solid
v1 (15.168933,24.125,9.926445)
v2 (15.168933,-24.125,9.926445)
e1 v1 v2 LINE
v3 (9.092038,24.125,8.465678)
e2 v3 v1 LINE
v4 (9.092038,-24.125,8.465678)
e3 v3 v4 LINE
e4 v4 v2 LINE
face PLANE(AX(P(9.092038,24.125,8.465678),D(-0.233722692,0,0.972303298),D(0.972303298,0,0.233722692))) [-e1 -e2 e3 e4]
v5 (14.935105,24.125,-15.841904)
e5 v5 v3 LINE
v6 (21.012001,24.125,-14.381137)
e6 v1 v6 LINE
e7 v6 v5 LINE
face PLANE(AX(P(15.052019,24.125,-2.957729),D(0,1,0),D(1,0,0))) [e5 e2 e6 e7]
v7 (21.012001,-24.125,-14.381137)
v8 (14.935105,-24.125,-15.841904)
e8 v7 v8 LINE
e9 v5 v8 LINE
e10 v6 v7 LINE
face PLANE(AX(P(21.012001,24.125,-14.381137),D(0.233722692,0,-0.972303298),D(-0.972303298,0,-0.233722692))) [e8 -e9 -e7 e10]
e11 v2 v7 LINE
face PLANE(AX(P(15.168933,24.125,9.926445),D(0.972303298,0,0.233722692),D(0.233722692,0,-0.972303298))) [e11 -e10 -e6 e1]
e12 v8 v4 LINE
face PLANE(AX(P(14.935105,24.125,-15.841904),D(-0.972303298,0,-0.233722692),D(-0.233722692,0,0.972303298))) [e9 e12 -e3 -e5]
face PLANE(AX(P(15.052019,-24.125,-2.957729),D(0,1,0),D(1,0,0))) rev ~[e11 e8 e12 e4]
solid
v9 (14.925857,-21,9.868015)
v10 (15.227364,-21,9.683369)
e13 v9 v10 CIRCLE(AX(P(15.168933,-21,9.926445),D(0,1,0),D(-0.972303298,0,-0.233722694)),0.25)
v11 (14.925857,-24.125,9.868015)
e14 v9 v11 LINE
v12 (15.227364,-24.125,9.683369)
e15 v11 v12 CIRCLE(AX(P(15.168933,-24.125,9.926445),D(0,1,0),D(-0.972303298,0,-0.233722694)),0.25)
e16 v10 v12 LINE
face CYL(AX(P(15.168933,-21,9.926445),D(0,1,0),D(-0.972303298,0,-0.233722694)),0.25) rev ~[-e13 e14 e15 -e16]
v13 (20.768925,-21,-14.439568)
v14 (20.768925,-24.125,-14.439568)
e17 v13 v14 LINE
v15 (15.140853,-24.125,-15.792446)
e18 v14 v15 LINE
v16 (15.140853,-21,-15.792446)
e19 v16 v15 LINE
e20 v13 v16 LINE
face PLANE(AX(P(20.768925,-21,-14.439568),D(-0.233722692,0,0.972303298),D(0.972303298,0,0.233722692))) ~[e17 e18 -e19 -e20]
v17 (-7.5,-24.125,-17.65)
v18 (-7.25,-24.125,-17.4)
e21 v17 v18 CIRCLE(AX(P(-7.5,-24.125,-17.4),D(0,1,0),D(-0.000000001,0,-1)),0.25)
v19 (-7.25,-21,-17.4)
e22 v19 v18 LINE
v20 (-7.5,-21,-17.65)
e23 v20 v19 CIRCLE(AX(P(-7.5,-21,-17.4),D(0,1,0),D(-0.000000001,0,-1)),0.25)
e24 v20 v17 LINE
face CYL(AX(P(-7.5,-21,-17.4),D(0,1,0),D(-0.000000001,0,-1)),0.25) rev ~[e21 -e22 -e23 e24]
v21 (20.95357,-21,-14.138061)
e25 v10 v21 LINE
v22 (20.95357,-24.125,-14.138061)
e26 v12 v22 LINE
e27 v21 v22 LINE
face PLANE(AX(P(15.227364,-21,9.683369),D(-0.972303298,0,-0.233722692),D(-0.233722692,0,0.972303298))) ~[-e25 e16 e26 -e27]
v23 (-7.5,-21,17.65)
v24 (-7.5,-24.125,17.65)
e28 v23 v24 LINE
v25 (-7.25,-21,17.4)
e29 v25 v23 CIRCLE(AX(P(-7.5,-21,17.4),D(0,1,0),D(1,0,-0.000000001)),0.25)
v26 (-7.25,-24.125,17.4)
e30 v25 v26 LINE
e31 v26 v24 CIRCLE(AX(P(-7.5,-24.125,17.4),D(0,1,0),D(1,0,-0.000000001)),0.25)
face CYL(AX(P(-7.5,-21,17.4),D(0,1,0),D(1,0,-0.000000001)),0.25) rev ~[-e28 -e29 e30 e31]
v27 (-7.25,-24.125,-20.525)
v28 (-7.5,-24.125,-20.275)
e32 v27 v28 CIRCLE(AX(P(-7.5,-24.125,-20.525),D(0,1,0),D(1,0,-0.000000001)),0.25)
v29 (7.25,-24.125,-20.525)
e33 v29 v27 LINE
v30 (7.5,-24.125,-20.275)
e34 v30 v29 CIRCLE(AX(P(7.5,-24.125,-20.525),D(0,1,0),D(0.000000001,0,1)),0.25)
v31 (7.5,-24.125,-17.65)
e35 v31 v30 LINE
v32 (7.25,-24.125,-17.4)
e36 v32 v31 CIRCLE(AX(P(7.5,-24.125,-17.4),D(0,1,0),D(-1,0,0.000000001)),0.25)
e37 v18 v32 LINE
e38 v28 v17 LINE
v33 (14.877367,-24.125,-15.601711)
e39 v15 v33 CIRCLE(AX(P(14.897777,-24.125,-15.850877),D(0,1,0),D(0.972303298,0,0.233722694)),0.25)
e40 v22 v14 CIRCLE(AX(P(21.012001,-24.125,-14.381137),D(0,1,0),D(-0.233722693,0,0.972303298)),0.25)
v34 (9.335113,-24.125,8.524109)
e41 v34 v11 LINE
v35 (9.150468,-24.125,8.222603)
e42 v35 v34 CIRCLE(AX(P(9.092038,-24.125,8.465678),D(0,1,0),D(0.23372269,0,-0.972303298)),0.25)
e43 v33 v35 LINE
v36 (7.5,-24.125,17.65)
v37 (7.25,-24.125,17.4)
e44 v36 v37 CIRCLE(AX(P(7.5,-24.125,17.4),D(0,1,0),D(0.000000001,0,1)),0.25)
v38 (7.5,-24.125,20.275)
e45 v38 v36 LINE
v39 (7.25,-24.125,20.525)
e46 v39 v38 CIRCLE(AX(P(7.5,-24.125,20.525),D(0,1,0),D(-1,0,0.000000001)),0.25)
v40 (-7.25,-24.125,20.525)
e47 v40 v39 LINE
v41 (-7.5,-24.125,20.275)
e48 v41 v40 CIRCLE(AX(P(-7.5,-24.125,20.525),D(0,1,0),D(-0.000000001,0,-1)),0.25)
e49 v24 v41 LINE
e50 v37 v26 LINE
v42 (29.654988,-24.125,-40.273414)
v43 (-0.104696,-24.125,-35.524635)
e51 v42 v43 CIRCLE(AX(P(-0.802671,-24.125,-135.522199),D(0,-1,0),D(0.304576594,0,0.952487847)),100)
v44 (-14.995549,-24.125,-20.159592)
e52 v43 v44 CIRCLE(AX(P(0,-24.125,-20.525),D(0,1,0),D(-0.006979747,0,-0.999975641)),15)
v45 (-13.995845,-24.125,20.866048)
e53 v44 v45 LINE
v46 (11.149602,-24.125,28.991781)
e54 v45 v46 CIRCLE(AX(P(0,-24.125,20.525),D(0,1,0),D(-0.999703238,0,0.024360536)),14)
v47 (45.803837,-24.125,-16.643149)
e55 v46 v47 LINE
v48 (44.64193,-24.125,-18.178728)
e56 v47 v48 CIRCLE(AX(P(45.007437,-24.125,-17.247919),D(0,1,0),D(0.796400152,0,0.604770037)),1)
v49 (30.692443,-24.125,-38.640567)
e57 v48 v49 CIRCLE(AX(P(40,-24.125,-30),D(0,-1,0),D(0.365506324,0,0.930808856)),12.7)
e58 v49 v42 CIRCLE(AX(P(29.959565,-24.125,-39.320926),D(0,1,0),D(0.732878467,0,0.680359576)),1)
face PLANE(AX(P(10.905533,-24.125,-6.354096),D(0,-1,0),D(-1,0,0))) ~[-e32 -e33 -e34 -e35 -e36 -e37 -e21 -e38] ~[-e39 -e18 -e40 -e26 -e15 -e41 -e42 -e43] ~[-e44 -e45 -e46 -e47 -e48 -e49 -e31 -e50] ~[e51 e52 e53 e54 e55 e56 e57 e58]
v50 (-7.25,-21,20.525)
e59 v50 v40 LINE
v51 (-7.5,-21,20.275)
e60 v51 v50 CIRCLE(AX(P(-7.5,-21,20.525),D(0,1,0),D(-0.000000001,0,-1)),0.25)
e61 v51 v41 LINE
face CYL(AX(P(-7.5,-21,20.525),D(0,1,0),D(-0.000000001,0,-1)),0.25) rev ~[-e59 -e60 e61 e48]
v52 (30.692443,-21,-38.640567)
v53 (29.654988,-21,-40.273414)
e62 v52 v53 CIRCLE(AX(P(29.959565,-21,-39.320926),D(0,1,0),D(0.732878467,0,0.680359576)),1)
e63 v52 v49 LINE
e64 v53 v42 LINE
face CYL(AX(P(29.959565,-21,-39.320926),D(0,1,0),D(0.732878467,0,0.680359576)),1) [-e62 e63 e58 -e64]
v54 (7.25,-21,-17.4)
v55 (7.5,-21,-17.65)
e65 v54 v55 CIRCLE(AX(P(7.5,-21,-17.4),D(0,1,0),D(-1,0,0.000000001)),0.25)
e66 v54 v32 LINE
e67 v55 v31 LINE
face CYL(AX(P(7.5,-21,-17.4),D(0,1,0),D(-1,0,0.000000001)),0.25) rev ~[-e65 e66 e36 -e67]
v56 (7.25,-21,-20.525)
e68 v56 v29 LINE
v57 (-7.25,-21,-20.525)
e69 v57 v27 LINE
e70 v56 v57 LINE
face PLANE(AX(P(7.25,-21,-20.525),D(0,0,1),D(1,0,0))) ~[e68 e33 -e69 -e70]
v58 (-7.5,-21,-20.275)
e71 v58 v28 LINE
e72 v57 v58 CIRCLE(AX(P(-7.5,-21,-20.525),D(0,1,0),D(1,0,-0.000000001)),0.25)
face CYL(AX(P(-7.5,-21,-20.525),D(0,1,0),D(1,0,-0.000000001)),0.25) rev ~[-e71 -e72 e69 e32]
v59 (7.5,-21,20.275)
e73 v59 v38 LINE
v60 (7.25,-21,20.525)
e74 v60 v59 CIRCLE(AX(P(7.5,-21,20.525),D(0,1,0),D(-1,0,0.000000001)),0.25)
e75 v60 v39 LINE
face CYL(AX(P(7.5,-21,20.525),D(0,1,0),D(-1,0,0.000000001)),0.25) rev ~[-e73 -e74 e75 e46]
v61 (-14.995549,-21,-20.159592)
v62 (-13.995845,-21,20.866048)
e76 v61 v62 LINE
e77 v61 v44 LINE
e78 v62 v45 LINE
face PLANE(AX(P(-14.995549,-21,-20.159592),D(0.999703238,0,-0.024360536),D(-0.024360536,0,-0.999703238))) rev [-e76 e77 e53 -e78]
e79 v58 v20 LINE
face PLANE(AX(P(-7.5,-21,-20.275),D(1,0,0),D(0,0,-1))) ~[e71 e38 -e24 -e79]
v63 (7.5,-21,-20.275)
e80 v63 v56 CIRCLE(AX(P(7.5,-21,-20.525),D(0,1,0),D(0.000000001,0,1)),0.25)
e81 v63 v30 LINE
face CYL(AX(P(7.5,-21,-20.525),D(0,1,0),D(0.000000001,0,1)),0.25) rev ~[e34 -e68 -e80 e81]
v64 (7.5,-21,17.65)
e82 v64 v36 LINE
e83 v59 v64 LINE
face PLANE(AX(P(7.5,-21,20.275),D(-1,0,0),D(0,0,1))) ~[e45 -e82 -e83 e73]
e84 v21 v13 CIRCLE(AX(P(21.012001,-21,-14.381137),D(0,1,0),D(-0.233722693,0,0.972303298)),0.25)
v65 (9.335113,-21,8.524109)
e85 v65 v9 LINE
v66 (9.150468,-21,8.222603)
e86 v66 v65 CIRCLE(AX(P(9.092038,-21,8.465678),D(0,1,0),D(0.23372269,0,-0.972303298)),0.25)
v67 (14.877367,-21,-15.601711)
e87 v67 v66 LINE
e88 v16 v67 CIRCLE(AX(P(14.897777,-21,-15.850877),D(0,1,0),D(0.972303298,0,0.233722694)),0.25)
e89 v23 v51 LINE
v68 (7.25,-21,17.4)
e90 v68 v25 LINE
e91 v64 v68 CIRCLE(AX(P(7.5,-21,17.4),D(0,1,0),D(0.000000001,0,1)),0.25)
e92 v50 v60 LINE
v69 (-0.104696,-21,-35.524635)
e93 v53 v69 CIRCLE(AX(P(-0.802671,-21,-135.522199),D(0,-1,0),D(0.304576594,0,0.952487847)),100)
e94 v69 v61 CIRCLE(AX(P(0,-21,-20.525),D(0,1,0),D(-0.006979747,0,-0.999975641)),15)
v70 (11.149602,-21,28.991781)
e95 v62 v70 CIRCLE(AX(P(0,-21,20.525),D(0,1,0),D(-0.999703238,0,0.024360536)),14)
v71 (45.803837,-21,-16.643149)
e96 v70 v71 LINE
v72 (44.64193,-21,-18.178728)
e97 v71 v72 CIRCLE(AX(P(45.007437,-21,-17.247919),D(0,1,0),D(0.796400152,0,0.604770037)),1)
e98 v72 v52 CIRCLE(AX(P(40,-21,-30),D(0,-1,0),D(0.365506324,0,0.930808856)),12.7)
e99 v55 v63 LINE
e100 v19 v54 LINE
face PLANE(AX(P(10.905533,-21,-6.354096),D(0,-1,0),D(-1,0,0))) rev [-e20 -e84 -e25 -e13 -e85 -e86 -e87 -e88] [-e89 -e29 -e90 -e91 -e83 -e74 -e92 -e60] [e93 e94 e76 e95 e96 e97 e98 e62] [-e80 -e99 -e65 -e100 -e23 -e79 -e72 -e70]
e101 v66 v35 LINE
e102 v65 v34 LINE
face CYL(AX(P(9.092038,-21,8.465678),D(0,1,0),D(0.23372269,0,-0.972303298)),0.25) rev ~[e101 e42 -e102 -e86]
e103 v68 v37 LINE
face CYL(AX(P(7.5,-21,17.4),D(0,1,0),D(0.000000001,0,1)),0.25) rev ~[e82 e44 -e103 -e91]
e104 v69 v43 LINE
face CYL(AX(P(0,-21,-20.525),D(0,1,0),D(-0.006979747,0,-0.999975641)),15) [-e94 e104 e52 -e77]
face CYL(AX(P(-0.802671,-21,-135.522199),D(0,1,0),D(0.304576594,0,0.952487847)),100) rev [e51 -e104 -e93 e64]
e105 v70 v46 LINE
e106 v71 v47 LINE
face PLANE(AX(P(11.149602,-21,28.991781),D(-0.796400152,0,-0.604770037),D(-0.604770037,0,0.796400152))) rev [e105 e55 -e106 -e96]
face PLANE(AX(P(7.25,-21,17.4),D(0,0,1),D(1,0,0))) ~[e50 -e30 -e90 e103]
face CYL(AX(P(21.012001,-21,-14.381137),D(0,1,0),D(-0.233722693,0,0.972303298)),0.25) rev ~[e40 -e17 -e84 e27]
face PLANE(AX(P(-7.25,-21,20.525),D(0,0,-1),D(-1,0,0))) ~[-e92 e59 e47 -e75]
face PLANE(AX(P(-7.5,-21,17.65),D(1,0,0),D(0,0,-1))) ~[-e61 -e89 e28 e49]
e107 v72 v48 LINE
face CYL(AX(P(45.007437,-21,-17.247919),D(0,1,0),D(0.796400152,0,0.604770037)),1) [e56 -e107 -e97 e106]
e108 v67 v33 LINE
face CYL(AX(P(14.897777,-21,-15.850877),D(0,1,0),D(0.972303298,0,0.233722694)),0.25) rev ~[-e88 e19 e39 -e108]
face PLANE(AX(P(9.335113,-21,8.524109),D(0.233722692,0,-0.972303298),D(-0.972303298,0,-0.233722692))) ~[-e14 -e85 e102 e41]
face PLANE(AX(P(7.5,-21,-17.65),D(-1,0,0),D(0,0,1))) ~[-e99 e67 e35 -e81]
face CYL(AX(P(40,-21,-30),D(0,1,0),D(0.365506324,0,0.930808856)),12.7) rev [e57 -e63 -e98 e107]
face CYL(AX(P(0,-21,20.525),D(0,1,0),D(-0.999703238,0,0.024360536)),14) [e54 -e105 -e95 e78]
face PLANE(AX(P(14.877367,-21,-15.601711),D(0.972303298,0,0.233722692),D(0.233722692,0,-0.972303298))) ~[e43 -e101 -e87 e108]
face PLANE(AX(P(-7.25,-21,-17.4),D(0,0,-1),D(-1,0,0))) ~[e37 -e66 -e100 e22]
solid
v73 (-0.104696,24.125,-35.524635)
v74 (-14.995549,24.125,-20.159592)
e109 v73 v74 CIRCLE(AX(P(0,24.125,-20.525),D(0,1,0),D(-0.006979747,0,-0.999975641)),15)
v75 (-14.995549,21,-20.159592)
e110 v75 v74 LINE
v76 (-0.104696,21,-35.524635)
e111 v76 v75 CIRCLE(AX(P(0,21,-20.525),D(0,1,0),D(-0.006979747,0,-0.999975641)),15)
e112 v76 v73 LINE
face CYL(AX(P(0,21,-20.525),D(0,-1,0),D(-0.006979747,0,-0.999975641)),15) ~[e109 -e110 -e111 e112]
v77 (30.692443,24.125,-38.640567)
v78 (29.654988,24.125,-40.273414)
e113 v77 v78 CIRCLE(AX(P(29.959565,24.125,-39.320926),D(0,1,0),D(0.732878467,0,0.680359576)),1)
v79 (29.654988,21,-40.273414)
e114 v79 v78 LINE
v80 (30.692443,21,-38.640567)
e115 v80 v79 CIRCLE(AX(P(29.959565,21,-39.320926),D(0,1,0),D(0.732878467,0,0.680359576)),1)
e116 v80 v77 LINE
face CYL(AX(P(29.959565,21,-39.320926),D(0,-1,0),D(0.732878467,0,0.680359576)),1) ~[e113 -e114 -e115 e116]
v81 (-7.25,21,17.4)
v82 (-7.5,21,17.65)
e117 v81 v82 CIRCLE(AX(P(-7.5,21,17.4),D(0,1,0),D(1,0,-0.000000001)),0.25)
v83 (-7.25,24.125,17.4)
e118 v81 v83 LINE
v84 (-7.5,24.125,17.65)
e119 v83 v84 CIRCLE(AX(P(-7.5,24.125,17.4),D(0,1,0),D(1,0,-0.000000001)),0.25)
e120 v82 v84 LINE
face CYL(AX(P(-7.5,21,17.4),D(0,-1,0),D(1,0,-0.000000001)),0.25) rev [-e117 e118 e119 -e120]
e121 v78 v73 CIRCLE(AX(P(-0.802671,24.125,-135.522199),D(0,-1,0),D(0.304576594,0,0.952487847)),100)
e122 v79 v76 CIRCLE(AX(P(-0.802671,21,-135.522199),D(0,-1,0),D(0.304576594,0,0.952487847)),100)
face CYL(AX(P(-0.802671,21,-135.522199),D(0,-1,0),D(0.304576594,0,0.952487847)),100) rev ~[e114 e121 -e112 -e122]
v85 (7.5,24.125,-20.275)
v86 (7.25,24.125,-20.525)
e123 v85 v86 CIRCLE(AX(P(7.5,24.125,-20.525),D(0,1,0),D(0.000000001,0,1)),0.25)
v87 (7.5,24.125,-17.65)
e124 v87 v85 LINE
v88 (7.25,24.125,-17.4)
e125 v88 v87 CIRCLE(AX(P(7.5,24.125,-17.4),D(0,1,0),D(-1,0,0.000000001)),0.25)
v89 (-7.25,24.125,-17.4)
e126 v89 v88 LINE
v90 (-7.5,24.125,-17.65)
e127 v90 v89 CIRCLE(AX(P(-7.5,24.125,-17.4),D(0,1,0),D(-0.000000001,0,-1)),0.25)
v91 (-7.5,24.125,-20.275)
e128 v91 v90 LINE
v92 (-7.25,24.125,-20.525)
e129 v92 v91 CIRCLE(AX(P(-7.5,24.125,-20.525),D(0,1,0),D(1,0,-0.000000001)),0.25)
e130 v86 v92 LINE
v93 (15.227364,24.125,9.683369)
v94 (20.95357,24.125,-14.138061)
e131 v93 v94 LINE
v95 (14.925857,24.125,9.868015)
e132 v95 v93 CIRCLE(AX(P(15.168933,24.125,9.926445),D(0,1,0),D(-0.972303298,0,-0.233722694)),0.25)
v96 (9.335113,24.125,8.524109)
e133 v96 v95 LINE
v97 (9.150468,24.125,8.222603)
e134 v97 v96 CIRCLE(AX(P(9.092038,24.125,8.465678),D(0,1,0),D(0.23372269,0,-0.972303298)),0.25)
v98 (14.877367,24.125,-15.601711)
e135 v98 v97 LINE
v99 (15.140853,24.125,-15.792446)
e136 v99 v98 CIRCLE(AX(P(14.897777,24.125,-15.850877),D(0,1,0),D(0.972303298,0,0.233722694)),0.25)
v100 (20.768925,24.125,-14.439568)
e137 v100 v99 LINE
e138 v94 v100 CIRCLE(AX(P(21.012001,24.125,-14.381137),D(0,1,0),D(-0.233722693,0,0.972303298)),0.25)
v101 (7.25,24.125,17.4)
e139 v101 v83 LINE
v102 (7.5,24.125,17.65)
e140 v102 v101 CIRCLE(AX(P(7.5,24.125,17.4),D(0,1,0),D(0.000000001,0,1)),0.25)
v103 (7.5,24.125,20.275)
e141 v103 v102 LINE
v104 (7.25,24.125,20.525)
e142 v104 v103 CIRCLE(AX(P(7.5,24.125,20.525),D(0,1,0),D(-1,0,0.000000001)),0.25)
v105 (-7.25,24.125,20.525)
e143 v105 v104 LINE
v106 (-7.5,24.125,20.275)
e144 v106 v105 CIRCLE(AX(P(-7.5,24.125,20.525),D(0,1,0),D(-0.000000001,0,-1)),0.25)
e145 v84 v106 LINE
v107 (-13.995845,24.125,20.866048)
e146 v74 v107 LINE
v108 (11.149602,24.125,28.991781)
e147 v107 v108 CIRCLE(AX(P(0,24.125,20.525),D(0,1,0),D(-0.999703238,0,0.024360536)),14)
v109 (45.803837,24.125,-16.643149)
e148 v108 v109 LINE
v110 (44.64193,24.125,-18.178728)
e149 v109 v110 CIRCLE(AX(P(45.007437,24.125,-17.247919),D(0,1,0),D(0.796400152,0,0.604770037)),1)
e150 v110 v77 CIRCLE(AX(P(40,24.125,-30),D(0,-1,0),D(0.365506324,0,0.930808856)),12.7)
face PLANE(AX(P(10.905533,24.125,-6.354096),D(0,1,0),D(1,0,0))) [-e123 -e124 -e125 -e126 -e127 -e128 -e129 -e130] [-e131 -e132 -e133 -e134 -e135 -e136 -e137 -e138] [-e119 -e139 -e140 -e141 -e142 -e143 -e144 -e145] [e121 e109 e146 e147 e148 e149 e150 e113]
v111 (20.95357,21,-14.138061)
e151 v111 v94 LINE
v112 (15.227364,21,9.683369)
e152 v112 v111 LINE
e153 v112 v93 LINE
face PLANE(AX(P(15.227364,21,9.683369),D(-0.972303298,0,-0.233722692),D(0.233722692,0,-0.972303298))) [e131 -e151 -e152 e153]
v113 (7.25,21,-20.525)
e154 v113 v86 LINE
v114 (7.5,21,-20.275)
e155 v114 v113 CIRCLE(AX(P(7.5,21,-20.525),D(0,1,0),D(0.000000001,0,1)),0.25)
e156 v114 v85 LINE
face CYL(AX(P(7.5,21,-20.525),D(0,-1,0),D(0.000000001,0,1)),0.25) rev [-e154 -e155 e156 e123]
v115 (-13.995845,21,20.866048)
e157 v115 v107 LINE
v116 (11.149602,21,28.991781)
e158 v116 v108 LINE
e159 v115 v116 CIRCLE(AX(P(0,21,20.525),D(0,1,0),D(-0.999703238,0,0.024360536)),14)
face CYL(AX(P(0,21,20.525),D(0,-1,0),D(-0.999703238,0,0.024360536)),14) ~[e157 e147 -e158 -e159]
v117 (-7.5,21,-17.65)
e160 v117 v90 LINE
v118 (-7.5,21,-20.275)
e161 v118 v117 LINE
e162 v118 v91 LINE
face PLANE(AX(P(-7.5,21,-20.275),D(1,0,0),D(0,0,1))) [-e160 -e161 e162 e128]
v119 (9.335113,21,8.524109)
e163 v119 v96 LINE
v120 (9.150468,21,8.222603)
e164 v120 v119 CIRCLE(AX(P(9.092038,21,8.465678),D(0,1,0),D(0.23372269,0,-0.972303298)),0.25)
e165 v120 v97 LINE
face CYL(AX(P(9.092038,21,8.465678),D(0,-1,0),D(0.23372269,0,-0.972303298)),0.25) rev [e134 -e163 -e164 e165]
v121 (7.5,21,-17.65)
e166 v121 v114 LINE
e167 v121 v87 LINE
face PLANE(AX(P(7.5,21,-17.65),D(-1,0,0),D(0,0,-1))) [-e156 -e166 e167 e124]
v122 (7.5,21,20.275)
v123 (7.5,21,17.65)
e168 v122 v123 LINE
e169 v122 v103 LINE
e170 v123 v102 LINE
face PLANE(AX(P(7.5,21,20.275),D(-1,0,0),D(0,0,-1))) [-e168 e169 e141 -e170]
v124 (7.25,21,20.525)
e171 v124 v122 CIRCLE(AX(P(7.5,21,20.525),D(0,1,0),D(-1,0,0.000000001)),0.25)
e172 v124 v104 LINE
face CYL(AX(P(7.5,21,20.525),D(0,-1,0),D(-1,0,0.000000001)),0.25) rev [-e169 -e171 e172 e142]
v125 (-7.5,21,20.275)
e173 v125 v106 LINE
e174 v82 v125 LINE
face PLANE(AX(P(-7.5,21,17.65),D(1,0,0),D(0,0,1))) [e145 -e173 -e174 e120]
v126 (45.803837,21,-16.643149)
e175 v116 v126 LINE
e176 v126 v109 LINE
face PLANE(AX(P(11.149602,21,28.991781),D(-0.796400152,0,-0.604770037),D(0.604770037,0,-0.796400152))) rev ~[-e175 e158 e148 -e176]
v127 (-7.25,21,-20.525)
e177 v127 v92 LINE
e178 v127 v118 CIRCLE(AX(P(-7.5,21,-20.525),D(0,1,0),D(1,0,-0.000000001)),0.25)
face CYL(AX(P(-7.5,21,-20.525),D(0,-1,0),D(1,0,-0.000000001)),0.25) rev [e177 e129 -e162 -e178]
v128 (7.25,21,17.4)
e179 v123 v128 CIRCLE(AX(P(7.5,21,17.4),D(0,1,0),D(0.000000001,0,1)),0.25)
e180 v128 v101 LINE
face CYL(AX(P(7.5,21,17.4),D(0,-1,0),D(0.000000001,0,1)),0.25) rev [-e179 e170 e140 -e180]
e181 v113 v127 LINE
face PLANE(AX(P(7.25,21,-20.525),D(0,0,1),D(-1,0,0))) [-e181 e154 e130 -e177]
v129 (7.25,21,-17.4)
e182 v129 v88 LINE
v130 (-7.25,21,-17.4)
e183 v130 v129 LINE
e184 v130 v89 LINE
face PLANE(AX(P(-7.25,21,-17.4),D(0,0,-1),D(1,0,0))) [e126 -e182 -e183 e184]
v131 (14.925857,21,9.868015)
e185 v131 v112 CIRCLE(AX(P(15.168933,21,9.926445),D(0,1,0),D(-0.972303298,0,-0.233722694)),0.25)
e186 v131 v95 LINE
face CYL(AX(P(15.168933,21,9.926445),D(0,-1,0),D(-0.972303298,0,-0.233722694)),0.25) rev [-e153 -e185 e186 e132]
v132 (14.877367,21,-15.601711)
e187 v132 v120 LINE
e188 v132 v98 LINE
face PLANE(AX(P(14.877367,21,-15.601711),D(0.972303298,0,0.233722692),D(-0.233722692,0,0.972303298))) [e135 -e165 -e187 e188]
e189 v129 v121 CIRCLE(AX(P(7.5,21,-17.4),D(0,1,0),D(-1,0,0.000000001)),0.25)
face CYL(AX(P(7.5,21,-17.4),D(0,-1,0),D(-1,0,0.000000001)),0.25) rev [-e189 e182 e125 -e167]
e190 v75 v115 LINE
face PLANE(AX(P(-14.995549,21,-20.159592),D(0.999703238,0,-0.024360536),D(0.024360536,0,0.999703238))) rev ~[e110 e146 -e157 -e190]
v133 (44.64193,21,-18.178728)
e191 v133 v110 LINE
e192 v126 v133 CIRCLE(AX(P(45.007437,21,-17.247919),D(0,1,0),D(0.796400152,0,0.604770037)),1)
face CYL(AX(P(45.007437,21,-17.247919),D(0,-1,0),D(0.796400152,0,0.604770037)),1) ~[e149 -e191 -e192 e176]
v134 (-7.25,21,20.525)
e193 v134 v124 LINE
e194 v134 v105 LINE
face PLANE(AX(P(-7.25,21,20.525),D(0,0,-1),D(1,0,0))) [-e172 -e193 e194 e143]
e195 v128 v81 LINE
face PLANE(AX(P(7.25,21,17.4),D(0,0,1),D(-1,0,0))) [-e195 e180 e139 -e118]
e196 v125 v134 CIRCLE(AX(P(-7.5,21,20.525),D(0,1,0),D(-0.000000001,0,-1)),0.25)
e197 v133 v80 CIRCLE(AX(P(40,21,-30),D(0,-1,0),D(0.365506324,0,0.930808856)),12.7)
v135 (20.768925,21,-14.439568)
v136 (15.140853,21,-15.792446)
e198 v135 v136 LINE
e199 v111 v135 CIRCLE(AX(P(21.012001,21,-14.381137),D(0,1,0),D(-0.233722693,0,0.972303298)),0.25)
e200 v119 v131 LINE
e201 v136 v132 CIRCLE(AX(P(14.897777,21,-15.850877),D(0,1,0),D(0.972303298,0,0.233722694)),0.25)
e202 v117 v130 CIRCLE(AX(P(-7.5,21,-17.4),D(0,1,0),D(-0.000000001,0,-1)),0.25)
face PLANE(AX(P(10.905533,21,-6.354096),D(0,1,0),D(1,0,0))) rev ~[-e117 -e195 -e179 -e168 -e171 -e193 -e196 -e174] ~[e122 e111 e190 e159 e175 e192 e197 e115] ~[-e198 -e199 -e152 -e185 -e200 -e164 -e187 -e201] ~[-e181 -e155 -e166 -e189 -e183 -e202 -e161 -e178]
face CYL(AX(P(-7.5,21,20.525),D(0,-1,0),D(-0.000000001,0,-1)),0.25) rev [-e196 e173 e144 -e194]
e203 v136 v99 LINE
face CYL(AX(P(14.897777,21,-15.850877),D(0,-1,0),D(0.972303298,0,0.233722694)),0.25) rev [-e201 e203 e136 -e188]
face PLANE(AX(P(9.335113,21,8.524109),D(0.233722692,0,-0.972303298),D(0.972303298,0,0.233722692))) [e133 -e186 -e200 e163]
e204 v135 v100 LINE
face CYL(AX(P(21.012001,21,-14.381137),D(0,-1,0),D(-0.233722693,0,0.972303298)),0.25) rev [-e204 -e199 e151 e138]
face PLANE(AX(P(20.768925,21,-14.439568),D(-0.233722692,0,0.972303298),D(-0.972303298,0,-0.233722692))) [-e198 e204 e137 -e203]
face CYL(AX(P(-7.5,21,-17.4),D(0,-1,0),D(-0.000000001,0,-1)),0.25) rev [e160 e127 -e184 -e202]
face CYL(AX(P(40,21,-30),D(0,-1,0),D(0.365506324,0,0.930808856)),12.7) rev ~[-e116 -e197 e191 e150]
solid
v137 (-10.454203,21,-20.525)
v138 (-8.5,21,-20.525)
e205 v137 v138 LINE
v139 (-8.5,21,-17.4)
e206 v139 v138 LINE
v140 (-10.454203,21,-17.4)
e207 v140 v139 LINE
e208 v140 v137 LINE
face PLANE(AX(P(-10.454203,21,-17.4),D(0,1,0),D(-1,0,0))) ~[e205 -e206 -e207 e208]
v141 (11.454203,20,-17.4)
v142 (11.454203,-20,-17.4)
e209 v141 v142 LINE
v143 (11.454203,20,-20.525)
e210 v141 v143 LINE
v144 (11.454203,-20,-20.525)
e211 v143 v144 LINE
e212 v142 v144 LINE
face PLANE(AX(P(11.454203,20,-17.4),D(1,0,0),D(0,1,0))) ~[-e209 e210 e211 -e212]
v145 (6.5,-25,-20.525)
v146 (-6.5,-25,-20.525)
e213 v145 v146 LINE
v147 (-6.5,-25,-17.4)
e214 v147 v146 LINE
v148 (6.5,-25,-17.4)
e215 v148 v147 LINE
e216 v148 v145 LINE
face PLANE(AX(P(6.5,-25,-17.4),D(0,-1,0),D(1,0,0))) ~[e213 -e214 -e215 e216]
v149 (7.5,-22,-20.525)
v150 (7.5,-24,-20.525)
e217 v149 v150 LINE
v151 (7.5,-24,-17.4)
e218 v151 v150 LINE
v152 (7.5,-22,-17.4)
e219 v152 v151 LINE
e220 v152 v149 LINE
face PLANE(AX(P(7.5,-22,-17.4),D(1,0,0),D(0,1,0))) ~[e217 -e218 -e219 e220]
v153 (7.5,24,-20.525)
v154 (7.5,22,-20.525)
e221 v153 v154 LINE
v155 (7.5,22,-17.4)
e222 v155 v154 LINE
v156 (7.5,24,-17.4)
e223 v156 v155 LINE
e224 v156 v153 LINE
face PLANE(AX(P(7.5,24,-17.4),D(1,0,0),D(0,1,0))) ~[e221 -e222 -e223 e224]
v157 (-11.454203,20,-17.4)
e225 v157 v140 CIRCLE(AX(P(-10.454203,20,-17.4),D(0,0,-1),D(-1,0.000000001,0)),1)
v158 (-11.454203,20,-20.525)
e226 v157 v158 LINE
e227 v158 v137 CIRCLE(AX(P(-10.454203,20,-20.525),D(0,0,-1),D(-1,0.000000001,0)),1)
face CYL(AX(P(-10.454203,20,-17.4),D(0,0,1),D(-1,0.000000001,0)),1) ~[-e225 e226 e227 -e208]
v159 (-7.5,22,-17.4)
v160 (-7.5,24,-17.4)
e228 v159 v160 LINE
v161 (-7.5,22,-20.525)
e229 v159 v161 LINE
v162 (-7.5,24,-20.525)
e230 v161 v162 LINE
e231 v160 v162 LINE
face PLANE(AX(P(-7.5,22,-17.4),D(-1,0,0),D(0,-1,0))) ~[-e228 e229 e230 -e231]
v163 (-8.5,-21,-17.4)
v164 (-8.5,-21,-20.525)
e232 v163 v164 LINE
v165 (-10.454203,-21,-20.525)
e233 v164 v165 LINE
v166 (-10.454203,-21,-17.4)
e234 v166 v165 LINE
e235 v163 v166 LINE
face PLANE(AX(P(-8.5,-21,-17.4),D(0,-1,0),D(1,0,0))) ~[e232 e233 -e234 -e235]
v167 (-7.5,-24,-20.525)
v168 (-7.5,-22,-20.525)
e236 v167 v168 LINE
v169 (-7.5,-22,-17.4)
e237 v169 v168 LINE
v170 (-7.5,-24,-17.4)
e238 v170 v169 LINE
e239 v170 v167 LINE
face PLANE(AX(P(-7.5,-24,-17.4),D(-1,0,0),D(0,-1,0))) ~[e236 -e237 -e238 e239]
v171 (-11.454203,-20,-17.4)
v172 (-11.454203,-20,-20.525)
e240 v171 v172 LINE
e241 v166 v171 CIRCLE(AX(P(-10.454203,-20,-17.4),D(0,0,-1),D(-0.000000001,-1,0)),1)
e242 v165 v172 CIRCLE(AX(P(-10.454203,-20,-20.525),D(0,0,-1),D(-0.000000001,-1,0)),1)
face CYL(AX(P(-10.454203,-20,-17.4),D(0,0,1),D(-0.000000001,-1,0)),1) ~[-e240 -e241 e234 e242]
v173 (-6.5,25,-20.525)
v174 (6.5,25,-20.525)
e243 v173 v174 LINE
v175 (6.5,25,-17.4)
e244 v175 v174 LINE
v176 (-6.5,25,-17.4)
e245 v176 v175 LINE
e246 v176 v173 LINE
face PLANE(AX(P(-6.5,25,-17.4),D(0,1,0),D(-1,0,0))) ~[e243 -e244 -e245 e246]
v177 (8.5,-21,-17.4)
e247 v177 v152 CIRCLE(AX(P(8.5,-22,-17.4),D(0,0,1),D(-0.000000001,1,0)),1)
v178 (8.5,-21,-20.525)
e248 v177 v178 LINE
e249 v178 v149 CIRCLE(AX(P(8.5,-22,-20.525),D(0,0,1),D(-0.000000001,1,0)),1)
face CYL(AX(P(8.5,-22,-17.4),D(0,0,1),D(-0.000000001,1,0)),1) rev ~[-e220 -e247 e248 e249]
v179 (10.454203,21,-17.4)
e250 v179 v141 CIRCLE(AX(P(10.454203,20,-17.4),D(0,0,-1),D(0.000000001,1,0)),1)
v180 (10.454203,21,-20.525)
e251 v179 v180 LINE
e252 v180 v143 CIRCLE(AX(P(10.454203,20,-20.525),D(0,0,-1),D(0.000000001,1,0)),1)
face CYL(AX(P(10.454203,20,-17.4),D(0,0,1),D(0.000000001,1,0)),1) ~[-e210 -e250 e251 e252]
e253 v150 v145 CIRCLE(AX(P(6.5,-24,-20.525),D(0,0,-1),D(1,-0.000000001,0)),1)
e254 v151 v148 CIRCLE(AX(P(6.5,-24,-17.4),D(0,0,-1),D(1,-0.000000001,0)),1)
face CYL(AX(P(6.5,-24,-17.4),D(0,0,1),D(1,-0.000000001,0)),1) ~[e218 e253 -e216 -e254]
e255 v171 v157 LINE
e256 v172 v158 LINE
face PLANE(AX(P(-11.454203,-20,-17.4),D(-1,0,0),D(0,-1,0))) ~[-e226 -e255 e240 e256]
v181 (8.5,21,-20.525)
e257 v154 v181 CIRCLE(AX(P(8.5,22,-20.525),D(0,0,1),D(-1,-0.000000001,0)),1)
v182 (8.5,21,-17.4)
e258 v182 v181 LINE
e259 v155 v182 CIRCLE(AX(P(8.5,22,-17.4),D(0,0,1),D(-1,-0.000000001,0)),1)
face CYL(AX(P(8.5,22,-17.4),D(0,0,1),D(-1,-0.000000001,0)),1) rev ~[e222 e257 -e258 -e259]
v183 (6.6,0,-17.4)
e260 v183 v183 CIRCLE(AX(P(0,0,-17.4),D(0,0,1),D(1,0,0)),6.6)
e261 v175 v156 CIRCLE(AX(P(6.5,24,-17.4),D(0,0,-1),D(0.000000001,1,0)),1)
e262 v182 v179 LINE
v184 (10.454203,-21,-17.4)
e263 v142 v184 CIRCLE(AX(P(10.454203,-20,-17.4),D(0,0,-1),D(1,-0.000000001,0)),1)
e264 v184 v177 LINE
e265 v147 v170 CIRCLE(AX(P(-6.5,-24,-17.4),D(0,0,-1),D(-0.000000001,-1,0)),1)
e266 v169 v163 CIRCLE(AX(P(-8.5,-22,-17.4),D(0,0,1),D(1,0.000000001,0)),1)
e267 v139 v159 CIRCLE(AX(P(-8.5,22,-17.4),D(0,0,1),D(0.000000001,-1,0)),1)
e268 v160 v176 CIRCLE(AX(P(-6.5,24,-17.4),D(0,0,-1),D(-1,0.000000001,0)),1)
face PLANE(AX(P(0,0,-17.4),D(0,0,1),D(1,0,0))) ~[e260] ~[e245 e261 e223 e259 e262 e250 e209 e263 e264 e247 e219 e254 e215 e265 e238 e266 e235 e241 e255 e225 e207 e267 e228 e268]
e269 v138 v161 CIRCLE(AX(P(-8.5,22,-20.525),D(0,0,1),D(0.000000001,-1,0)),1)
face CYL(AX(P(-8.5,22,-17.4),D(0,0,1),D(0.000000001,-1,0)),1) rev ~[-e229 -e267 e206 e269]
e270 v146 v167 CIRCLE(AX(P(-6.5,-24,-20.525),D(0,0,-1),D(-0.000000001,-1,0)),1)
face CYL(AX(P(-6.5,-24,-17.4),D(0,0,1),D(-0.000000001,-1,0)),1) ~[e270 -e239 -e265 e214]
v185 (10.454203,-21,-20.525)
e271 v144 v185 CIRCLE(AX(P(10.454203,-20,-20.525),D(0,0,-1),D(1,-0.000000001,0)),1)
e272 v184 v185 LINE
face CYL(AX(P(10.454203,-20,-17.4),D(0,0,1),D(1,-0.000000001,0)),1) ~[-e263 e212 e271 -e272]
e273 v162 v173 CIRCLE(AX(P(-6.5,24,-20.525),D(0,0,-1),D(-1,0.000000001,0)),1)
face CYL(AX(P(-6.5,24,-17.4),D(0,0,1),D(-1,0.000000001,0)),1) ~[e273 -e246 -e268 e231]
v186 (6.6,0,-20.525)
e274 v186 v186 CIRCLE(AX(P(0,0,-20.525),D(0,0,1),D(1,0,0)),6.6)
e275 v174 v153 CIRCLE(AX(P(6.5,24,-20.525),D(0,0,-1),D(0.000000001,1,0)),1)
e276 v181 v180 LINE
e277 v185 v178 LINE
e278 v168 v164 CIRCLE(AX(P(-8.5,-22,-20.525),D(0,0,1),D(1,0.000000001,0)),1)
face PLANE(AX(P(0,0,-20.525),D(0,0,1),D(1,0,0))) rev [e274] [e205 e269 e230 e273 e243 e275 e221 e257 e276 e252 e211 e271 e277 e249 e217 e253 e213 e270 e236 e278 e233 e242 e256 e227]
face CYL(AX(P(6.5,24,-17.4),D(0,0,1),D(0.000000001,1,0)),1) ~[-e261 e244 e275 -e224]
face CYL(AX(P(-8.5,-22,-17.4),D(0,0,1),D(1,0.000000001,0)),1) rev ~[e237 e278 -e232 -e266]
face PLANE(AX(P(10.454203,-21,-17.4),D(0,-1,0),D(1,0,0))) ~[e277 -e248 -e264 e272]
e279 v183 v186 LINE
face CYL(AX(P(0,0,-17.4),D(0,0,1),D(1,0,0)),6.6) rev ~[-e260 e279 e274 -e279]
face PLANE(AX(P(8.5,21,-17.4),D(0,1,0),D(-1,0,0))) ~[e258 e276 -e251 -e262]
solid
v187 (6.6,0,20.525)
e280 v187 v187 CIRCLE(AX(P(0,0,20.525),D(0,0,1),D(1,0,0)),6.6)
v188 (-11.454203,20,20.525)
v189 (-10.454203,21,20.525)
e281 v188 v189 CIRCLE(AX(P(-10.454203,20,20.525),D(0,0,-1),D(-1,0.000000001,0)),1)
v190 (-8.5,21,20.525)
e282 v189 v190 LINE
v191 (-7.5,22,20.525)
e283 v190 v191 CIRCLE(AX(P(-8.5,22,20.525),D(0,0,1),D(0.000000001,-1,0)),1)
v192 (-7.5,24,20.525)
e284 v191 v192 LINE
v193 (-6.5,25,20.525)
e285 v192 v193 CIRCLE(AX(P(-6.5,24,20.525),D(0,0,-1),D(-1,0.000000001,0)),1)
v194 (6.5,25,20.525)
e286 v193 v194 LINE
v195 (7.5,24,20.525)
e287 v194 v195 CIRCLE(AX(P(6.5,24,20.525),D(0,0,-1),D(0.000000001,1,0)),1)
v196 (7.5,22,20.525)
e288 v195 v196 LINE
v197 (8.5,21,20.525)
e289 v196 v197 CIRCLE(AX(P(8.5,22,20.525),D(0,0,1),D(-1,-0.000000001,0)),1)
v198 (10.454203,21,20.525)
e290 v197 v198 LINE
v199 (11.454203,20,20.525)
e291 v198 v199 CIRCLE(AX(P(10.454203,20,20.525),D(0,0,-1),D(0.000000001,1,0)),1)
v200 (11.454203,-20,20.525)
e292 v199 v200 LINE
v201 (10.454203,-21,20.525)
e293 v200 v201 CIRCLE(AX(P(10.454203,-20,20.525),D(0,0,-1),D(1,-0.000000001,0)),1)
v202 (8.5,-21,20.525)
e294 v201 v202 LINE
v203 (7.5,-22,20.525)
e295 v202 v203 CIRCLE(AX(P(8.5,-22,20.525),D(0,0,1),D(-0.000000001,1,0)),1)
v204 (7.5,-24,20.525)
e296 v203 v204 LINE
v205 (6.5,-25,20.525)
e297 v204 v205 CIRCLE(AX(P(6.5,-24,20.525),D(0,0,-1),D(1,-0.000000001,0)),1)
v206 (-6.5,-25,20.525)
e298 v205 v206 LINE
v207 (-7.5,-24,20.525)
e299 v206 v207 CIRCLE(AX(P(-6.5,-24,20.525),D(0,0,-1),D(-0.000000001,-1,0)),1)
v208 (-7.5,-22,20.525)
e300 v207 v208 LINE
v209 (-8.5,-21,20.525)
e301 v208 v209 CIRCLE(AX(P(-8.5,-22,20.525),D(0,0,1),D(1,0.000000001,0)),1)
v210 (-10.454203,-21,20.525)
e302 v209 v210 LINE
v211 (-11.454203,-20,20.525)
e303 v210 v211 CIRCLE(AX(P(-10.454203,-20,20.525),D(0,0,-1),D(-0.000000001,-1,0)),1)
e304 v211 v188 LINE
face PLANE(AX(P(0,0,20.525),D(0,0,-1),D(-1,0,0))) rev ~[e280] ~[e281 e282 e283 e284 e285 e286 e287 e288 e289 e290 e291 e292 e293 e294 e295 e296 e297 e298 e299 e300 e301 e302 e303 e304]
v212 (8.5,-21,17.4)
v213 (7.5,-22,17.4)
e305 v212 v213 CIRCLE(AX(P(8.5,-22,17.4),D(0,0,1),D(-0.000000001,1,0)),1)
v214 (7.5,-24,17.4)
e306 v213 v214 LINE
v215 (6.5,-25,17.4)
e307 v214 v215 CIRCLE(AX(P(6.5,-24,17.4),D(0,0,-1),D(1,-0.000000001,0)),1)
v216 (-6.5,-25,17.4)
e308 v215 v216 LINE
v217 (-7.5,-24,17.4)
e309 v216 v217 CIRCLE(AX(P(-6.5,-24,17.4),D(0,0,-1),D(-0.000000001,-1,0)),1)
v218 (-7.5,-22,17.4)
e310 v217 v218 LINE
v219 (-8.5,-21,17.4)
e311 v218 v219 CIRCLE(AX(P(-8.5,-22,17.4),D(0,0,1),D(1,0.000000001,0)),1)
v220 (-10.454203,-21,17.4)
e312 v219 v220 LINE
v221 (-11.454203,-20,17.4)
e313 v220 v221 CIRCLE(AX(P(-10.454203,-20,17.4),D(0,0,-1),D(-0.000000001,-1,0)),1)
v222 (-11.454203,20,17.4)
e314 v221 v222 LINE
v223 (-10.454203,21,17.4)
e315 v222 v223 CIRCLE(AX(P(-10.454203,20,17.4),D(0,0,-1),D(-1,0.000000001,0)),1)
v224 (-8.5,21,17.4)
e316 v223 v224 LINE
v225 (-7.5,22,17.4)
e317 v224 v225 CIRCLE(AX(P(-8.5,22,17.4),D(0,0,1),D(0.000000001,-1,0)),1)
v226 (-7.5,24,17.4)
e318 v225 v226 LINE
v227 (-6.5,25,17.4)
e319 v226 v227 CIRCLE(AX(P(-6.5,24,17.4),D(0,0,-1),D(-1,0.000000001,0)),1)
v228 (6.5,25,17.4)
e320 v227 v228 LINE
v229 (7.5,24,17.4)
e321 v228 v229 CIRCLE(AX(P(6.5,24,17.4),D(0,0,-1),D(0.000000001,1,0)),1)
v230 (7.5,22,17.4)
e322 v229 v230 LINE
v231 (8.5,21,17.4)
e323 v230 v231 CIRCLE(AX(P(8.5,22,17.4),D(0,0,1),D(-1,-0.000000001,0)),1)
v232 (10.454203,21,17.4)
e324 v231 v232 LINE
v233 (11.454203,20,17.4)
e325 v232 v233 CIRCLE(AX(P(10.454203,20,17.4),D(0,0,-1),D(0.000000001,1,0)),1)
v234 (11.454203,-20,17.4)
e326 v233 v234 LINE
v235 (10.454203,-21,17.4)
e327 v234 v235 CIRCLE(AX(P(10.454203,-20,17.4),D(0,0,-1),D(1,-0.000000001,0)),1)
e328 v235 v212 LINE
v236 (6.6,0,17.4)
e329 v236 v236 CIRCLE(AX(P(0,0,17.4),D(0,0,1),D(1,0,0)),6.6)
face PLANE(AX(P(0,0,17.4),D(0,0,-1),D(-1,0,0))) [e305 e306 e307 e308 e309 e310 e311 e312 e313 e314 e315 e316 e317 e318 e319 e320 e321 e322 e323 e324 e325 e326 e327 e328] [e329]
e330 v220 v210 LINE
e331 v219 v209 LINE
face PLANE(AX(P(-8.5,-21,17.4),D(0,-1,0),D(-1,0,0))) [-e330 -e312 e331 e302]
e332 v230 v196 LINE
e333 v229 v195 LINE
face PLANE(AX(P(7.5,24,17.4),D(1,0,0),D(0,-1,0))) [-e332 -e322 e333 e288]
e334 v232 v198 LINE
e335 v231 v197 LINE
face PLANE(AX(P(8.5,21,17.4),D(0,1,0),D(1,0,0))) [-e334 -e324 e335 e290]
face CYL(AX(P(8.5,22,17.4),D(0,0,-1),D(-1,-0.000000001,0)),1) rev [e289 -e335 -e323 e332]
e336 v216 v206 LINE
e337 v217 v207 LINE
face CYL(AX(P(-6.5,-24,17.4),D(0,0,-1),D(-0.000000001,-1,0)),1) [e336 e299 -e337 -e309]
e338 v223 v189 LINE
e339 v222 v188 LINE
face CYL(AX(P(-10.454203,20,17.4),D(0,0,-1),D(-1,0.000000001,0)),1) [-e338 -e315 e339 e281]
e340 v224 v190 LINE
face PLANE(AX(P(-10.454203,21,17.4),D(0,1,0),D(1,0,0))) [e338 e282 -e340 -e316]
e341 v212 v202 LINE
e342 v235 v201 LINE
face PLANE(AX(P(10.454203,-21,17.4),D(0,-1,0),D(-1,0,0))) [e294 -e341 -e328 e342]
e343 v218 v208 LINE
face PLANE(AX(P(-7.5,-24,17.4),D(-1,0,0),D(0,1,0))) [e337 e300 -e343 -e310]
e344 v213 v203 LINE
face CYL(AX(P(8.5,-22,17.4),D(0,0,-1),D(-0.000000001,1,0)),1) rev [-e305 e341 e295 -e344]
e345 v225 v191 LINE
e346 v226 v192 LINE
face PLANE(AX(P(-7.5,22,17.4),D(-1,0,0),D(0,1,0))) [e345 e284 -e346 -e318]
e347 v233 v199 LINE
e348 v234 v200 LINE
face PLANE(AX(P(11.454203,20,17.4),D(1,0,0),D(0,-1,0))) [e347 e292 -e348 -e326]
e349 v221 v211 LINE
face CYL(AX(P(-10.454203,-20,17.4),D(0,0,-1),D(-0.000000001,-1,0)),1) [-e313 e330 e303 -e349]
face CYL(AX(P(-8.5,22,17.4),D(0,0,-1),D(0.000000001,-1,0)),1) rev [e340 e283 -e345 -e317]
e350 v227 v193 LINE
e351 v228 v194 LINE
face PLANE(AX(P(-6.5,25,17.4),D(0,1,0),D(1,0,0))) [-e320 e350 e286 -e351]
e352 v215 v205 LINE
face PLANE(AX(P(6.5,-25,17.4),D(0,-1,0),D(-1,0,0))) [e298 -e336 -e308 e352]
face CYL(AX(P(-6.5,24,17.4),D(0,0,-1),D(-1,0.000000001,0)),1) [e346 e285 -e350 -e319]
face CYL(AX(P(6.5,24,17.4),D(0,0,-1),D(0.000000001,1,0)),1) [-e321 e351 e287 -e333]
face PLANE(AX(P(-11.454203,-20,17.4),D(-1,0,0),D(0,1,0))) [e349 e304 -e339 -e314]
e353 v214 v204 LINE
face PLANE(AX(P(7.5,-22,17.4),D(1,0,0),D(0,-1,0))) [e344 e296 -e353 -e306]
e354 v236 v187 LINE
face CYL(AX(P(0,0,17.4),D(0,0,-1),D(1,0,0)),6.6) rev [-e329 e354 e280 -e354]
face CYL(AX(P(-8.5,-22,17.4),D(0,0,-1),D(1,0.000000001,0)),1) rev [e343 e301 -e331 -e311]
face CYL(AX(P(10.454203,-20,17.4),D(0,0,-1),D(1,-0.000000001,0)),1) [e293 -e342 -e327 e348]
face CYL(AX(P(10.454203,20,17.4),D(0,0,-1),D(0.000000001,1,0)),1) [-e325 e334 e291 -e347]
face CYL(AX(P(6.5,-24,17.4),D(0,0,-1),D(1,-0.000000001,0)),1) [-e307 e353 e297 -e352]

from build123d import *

# Parameters (mm, degrees)
SKETCH2_R           = 6.6
BOSS_EXTRUDE1_DEPTH = 3.125
BOSS_EXTRUDE2_DEPTH = 3.125
BOSS_EXTRUDE3_DEPTH = 48.25


with BuildPart() as part:
    # Sketch2 → Boss-Extrude1 (new body)
    with BuildSketch(Plane.XY.offset(17.4)):
        with BuildLine():
            Line((-10.454203197, 21), (-8.5, 21))
            ThreePointArc((-8.5, 21), (-7.792893219, 21.292893219), (-7.5, 22))
            Line((-7.5, 22), (-7.5, 24))
            ThreePointArc((-7.5, 24), (-7.207106781, 24.707106781), (-6.5, 25))
            Line((-6.5, 25), (6.5, 25))
            ThreePointArc((6.5, 25), (7.207106781, 24.707106781), (7.5, 24))
            Line((7.5, 24), (7.5, 22))
            ThreePointArc((7.5, 22), (7.792893219, 21.292893219), (8.5, 21))
            Line((8.5, 21), (10.454203197, 21))
            ThreePointArc((10.454203197, 21), (11.161309978, 20.707106781), (11.454203197, 20))
            Line((11.454203197, 20), (11.454203197, -20))
            ThreePointArc((11.454203197, -20), (11.161309978, -20.707106781), (10.454203197, -21))
            Line((10.454203197, -21), (8.5, -21))
            ThreePointArc((8.5, -21), (7.792893219, -21.292893219), (7.5, -22))
            Line((7.5, -22), (7.5, -24))
            ThreePointArc((7.5, -24), (7.207106781, -24.707106781), (6.5, -25))
            Line((6.5, -25), (-6.5, -25))
            ThreePointArc((-6.5, -25), (-7.207106781, -24.707106781), (-7.5, -24))
            Line((-7.5, -24), (-7.5, -22))
            ThreePointArc((-7.5, -22), (-7.792893219, -21.292893219), (-8.5, -21))
            Line((-8.5, -21), (-10.454203197, -21))
            ThreePointArc((-10.454203197, -21), (-11.161309978, -20.707106781), (-11.454203197, -20))
            Line((-11.454203197, -20), (-11.454203197, 20))
            ThreePointArc((-11.454203197, 20), (-11.161309978, 20.707106781), (-10.454203197, 21))
        make_face()
        Circle(SKETCH2_R, mode=Mode.SUBTRACT)
    extrude(amount=BOSS_EXTRUDE1_DEPTH)


with BuildPart() as body_2:
    # Mirror4: mirrored copy
    add(part.part.mirror(Plane.XY))


with BuildPart() as body_3:
    # Sketch3 → Boss-Extrude2 (new body)
    with BuildSketch(Plane(origin=(0, 21, 0), x_dir=(1, 0, 0), z_dir=(0, 1, 0))):
        with BuildLine():
            Line((-14.995548572, 20.159591961), (-13.995845334, -20.866047503))
            ThreePointArc((-13.995845334, -20.866047503), (-4.304899455, -33.846705622), (11.149602135, -28.991780512))
            Line((11.149602135, -28.991780512), (45.803836797, 16.643148633))
            ThreePointArc((45.803836797, 16.643148633), (45.804881318, 17.851310743), (44.64193032, 18.178727526))
            ThreePointArc((44.64193032, 18.178727526), (29.506490967, 22.846240976), (30.692443483, 38.64056663))
            ThreePointArc((30.692443483, 38.64056663), (30.803607848, 39.857201974), (29.654988423, 40.273414054))
            ThreePointArc((29.654988423, 40.273414054), (14.955060827, 36.771533486), (-0.104696211, 35.524634619))
            ThreePointArc((-0.104696211, 35.524634619), (-10.771512526, 30.964086066), (-14.995548572, 20.159591961))
        make_face()
        with BuildLine():
            Line((-7.25, 17.4), (7.25, 17.4))
            ThreePointArc((7.25, 17.4), (7.676776695, 17.223223305), (7.5, 17.65))
            Line((7.5, 17.65), (7.5, 20.275))
            ThreePointArc((7.5, 20.275), (7.676776695, 20.701776695), (7.25, 20.525))
            Line((7.25, 20.525), (-7.25, 20.525))
            ThreePointArc((-7.25, 20.525), (-7.676776695, 20.701776695), (-7.5, 20.275))
            Line((-7.5, 20.275), (-7.5, 17.65))
            ThreePointArc((-7.5, 17.65), (-7.676776695, 17.223223305), (-7.25, 17.4))
        make_face(mode=Mode.SUBTRACT)
        with BuildLine():
            Line((-7.5, -17.65), (-7.5, -20.275))
            ThreePointArc((-7.5, -20.275), (-7.676776695, -20.701776695), (-7.25, -20.525))
            Line((-7.25, -20.525), (7.25, -20.525))
            ThreePointArc((7.25, -20.525), (7.676776695, -20.701776695), (7.5, -20.275))
            Line((7.5, -20.275), (7.5, -17.65))
            ThreePointArc((7.5, -17.65), (7.676776695, -17.223223305), (7.25, -17.4))
            Line((7.25, -17.4), (-7.25, -17.4))
            ThreePointArc((-7.25, -17.4), (-7.676776695, -17.223223305), (-7.5, -17.65))
        make_face(mode=Mode.SUBTRACT)
        with BuildLine():
            Line((14.87736729, 15.601711403), (9.150468269, -8.222602563))
            ThreePointArc((9.150468269, -8.222602563), (8.878840307, -8.596242226), (9.335113421, -8.524109061))
            Line((9.335113421, -8.524109061), (14.925857384, -9.868014542))
            ThreePointArc((14.925857384, -9.868014542), (15.299497047, -10.139642504), (15.227363881, -9.683369391))
            Line((15.227363881, -9.683369391), (20.953569845, 14.138061407))
            ThreePointArc((20.953569845, 14.138061407), (21.225197807, 14.51170107), (20.768924694, 14.439567905))
            Line((20.768924694, 14.439567905), (15.140853204, 15.792446193))
            ThreePointArc((15.140853204, 15.792446193), (14.75118288, 16.053386255), (14.87736729, 15.601711403))
        make_face(mode=Mode.SUBTRACT)
    extrude(amount=BOSS_EXTRUDE2_DEPTH)


with BuildPart() as body_4:
    # Mirror5: mirrored copy
    add(body_3.part.mirror(Plane.ZX))


with BuildPart() as body_5:
    # Sketch4 → Boss-Extrude3 (new body)
    with BuildSketch(Plane(origin=(0, 24.125, 0), x_dir=(1, 0, 0), z_dir=(0, 1, 0))):
        Polygon((9.092037596, -8.465678388), (15.168933208, -9.926445215), (21.012000518, 14.381137232), (14.935104906, 15.841904059), align=None)
    extrude(amount=-BOSS_EXTRUDE3_DEPTH)


solid = Compound([part.part, body_2.part, body_3.part, body_4.part, body_5.part])
